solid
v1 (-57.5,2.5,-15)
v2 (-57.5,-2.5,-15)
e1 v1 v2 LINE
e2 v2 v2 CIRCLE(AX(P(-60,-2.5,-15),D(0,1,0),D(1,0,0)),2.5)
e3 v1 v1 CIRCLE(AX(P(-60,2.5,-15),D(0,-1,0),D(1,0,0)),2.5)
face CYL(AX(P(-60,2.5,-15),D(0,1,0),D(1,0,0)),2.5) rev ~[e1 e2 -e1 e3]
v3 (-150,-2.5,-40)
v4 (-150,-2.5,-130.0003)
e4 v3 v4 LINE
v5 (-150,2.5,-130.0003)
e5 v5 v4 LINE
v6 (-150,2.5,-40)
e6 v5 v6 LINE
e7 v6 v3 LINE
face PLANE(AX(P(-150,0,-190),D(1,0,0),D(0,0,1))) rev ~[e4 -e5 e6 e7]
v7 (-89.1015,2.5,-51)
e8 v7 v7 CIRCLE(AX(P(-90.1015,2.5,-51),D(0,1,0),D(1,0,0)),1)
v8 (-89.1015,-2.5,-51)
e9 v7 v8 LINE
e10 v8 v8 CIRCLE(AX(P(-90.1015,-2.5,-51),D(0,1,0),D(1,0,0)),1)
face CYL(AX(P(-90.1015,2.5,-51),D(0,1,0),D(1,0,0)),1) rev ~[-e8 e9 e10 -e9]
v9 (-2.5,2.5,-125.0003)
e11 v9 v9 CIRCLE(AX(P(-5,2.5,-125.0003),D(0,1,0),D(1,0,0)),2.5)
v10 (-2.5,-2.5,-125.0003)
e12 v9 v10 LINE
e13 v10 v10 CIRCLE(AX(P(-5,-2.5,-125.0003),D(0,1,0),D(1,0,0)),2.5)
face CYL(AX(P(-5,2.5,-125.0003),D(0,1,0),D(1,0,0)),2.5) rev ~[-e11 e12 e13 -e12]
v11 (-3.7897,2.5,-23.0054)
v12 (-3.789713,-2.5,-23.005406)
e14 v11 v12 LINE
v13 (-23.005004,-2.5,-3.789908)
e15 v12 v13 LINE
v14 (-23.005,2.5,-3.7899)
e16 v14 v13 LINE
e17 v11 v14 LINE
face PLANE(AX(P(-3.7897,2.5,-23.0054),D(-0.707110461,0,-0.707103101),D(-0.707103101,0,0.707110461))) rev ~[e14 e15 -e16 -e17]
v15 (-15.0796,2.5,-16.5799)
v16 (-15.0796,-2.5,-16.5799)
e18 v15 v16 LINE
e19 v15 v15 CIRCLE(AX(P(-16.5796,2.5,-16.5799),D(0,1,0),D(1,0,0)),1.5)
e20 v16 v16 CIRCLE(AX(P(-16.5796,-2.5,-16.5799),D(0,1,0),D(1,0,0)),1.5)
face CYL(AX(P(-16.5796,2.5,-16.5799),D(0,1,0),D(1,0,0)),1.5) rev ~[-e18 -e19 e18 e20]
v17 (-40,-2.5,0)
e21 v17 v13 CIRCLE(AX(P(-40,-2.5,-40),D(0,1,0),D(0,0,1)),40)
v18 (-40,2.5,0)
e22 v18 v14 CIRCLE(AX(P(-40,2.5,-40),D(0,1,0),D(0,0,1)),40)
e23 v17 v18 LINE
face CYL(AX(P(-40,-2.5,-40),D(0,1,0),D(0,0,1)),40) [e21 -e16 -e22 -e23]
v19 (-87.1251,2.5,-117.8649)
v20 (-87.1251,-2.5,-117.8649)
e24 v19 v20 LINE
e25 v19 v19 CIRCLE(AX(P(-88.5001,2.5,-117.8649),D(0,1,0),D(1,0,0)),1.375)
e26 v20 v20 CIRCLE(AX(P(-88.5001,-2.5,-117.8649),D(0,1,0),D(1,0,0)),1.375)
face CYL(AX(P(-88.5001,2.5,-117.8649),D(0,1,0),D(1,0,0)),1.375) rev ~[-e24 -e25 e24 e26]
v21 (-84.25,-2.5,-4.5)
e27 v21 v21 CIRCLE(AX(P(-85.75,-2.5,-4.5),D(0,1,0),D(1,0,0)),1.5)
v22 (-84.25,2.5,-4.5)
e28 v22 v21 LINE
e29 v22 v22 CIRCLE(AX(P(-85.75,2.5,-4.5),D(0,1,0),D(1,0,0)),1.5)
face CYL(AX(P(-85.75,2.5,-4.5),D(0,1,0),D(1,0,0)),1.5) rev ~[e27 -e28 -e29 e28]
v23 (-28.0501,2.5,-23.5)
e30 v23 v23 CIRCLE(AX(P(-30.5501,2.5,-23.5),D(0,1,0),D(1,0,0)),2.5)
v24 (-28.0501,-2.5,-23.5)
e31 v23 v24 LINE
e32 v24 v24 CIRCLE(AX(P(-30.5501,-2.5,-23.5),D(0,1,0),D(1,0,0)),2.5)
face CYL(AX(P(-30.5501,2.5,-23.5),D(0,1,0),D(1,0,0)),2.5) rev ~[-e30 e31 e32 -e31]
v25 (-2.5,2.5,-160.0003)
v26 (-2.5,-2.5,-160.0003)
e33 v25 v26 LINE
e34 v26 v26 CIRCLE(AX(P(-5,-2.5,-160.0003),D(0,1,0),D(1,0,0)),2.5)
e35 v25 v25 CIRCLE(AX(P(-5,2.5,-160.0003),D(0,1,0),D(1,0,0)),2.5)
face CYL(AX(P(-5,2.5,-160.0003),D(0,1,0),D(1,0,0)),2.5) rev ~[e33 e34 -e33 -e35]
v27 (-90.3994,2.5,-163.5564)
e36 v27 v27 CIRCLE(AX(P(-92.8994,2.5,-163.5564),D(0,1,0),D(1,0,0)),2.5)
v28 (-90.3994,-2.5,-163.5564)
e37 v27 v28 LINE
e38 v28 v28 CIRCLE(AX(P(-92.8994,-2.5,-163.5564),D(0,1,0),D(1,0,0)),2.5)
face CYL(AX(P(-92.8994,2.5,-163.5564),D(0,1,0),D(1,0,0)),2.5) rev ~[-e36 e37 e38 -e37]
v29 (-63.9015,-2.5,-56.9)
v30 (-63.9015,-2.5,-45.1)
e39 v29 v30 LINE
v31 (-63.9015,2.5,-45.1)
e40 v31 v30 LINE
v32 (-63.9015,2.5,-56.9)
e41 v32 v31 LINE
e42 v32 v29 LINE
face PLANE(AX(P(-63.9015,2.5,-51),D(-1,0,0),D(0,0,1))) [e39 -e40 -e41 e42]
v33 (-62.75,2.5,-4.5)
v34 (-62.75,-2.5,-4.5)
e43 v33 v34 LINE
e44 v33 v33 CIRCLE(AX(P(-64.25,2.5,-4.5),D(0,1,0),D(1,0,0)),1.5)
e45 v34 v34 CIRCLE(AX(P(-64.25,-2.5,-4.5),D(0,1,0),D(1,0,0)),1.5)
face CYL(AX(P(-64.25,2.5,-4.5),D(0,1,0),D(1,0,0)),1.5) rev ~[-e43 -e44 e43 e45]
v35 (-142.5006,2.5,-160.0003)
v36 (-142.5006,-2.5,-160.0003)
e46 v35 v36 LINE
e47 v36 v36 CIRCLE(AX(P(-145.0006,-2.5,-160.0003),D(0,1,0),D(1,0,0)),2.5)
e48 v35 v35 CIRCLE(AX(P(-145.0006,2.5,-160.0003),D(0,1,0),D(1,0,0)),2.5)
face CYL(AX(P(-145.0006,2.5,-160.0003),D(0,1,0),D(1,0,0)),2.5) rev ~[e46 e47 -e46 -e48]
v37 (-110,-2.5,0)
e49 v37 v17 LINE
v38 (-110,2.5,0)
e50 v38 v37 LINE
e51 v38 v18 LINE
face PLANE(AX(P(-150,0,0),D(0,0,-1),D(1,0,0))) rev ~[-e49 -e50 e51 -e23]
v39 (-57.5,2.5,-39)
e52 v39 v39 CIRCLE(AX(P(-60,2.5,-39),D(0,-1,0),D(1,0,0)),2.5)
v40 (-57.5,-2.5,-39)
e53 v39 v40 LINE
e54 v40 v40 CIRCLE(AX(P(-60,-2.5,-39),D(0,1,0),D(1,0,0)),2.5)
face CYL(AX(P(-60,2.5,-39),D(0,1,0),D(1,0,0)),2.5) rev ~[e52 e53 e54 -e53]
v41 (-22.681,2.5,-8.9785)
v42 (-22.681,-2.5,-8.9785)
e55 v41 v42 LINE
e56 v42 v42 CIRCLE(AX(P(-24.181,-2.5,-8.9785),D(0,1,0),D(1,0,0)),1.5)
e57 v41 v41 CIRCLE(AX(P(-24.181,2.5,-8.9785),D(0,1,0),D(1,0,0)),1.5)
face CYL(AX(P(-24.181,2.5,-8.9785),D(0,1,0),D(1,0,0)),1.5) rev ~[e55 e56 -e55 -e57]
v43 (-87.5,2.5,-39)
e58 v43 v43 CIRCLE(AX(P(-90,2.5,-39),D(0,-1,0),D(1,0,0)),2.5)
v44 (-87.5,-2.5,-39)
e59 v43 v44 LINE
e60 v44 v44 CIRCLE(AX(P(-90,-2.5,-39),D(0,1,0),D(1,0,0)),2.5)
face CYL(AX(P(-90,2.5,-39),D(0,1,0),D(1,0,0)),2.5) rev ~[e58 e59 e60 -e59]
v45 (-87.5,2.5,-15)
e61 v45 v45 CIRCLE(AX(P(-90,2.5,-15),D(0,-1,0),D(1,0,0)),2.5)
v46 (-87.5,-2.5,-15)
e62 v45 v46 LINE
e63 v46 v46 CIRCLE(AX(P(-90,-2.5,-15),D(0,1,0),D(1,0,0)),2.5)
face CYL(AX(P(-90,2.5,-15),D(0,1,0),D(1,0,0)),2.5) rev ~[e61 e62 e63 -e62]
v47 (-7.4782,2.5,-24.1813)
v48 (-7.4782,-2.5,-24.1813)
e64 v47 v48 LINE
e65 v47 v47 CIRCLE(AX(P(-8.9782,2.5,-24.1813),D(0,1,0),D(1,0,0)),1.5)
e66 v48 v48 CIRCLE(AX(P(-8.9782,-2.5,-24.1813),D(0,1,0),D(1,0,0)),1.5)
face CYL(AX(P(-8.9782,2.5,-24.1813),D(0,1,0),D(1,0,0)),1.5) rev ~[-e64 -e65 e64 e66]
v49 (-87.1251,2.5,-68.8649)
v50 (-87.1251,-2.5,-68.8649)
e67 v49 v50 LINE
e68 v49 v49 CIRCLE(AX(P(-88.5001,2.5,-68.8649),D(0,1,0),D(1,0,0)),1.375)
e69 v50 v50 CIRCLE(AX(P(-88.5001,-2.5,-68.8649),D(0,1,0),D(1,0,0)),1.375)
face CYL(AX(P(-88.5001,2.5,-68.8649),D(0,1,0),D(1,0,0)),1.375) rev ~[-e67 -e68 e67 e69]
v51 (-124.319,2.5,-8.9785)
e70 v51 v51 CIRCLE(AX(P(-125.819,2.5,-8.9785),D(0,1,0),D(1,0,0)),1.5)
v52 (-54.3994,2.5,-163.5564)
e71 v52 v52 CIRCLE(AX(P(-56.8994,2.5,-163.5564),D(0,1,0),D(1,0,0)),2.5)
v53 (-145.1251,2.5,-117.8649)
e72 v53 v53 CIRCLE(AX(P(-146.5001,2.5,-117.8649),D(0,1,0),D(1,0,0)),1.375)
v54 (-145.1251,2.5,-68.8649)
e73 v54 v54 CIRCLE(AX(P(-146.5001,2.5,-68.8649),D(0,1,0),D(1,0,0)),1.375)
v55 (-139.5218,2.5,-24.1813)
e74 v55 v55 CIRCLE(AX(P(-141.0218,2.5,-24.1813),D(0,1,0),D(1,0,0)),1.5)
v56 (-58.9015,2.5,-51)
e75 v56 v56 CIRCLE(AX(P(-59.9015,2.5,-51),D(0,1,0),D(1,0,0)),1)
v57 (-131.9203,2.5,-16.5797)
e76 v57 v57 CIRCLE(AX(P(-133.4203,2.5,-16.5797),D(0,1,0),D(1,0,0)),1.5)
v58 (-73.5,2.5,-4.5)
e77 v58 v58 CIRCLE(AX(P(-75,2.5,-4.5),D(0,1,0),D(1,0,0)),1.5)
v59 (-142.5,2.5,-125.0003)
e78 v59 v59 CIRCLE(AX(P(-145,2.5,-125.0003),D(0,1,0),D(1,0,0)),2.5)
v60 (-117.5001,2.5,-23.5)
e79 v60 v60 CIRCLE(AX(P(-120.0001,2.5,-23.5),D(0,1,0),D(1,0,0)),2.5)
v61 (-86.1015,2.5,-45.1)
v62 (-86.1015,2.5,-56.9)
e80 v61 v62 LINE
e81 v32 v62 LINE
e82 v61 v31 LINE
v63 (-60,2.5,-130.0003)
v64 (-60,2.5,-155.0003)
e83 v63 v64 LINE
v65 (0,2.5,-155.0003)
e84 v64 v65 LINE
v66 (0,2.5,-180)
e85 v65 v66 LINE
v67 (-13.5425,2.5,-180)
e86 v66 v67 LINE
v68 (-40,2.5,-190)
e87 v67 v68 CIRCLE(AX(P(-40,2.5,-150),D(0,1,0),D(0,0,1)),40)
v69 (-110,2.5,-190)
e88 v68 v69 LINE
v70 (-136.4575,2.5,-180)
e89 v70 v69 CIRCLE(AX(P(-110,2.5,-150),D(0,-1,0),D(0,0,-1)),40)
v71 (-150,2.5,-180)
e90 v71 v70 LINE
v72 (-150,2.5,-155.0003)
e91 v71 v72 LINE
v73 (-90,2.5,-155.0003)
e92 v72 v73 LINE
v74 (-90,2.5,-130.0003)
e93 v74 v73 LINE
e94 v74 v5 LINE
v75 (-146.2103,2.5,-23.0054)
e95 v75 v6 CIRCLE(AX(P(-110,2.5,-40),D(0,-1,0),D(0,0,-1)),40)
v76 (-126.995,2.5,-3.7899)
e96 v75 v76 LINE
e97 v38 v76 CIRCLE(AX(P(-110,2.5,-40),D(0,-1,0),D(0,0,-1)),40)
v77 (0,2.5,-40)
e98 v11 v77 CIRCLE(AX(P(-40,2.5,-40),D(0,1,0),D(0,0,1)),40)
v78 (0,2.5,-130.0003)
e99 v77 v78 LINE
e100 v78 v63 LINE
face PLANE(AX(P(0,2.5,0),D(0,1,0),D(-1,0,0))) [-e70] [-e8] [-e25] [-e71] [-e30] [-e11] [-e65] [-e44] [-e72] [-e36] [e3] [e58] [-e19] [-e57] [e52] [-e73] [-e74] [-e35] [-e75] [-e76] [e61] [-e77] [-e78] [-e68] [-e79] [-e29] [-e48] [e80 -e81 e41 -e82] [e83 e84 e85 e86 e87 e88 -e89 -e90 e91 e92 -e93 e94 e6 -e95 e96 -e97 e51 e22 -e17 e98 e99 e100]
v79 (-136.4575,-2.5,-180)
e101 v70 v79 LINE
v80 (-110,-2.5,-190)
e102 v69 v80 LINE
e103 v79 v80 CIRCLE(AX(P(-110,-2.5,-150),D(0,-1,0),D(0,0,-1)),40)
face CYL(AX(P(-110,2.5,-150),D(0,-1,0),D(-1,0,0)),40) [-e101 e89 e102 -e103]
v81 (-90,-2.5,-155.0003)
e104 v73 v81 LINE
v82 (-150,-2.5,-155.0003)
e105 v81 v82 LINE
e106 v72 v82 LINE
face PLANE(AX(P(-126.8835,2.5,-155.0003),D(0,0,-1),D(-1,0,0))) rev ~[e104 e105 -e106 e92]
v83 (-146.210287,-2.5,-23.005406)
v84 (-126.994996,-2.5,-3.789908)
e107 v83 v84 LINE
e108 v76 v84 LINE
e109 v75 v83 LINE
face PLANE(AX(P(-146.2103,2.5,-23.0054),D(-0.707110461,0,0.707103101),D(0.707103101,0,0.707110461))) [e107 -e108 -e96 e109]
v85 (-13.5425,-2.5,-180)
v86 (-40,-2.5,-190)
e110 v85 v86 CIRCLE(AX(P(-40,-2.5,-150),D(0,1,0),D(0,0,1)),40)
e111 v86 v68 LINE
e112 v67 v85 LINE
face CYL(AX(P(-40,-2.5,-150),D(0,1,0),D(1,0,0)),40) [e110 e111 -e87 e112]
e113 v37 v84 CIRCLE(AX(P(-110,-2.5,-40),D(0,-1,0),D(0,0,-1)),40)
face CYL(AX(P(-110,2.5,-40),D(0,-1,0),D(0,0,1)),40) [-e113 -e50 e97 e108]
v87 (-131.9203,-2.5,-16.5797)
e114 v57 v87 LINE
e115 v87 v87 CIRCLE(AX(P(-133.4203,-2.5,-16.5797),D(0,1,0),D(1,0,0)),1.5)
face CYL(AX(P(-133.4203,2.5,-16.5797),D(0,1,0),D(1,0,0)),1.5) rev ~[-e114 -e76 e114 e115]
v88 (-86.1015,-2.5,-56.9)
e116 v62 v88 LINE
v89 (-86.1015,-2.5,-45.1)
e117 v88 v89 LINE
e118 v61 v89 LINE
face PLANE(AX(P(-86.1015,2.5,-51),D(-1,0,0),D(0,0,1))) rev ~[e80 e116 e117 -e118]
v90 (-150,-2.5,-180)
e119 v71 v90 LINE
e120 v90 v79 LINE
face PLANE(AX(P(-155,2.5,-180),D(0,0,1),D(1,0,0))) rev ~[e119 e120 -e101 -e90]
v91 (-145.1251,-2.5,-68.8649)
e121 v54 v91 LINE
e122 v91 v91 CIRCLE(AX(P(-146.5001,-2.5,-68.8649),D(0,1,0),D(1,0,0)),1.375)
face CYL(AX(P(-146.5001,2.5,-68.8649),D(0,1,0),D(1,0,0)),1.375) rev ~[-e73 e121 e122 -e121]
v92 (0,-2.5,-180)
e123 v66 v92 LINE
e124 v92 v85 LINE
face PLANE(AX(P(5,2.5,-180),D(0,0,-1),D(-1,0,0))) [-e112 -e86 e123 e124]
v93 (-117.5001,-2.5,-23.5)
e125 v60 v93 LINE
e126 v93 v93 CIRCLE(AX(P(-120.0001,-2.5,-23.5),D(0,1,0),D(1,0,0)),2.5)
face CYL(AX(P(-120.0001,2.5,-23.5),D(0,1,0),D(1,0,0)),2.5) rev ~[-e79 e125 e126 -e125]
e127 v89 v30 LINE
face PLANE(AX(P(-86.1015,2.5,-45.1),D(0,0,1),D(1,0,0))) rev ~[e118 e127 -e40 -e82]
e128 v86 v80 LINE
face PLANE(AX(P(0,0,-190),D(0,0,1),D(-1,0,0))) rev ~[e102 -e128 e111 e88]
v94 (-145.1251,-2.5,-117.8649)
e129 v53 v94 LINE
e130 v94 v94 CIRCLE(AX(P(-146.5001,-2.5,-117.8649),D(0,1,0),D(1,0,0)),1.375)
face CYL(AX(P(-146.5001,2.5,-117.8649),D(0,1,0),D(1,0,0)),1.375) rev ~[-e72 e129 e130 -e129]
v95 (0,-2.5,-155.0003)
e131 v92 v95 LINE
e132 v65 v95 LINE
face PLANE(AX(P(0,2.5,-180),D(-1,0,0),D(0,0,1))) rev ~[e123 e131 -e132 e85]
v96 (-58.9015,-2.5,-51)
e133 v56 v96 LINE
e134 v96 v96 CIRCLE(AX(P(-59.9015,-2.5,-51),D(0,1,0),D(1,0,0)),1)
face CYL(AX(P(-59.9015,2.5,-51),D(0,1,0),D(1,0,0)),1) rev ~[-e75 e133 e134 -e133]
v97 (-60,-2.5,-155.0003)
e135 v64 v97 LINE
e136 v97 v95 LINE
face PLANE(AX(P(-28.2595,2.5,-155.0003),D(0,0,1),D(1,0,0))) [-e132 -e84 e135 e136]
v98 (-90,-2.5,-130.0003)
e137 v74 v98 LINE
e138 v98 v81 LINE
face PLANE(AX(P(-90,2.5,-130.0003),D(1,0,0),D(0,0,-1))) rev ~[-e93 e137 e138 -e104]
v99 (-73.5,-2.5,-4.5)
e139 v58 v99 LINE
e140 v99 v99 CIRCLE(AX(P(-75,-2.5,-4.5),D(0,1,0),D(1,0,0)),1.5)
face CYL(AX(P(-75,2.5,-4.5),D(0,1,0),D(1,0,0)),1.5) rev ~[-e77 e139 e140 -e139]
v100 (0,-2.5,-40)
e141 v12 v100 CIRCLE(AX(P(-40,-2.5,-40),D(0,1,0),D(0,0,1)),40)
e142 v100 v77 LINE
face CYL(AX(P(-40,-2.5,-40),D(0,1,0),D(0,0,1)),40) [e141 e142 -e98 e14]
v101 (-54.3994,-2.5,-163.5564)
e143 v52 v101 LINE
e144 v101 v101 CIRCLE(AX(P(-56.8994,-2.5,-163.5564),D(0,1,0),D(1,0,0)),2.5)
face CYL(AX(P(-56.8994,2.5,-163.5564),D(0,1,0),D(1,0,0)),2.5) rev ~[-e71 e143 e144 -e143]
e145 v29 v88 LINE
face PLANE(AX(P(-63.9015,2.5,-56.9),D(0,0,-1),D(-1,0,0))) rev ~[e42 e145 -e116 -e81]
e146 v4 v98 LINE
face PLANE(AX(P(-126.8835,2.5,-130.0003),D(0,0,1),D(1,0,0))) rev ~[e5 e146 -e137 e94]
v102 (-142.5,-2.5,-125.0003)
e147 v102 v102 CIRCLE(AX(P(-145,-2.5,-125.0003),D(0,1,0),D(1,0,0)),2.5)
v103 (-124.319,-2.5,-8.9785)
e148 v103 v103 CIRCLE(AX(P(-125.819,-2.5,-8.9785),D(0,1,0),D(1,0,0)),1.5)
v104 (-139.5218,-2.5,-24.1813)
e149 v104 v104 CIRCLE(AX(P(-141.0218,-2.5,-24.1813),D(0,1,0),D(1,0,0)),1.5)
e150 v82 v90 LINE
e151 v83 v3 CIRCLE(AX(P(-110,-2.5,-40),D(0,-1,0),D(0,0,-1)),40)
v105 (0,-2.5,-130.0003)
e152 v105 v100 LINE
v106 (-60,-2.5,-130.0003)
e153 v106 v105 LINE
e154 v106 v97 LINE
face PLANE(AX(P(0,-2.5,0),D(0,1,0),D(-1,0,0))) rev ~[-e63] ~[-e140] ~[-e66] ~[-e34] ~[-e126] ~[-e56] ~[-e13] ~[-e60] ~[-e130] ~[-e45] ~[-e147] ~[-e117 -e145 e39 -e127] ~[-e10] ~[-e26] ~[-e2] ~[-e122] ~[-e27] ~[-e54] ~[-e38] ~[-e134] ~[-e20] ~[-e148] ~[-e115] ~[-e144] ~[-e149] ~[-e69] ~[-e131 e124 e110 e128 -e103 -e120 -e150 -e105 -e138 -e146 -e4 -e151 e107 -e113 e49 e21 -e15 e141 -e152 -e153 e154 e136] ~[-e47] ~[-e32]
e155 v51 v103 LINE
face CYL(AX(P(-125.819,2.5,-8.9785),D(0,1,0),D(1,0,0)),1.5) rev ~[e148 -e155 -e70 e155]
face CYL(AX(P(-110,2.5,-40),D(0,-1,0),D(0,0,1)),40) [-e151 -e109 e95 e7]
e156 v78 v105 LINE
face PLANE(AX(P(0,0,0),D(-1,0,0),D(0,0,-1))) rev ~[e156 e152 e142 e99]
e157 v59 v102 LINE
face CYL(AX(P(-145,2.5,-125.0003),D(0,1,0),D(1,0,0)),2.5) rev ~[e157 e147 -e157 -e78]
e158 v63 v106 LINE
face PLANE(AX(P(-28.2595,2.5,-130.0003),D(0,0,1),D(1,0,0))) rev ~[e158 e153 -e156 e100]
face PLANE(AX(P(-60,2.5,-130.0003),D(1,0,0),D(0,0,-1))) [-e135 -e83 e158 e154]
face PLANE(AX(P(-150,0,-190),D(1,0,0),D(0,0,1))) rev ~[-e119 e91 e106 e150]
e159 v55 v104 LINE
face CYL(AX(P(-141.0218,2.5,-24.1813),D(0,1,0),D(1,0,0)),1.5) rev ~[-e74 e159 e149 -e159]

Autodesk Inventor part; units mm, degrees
ref_plane "YZ Plane" through (0, 0, 0) normal (1, 0, 0) x (0, 1, 0)
ref_plane "XZ Plane" through (0, 0, 0) normal (0, 1, 0) x (-1, 0, 0)
ref_plane "XY Plane" through (0, 0, 0) normal (0, 0, 1) x (1, 0, 0)
sketch "Esboço1" plane through (0, 0, 0) normal (0, 1, 0) x (-1, 0, 0)
  line L0 (0, 0) -> (0, -190)
  line L1 (0, -190) -> (150, -190)
  line L2 (150, -190) -> (150, 0)
  line L3 (150, 0) -> (0, 0)
  dimension "d0" = 190
  dimension "d1" = 150
extrude "Extrusão1" add sketch "Esboço1" along normal mid plane 5
fillet "Arredondamento1" radius 40 1 edges at (0, 0, 0)
fillet "Arredondamento2" radius 40 3 edges at (-150, 0, 0) (0, 0, -190) (-150, 0, -190)
sketch "Esboço2" plane through (0, 2.5, 0) normal (0, 1, 0) x (1, 0, 0)
  line L0 (-110, 0) -> (-40, 0) projected
  line L1 (-150, 150) -> (-150, 40) projected
  line L2 (0, 40) -> (0, 150) projected
  line L3 (0, 110) -> (5, 110)
  line L4 (-150, 110) -> (-155, 110)
  line L5 (-155, 110) -> (-155, 175)
  line L6 (-155, 175) -> (-150, 175)
  line L7 (0, 175) -> (5, 175)
  line L8 (5, 175) -> (5, 110)
  line L9 (-155, 175) -> (-155, 180)
  line L10 (-155, 180) -> (-115.1221, 180)
  line L11 (-155, 110) -> (-155, 105)
  line L12 (-155, 105) -> (-150, 105)
  line L13 (5, 110) -> (5, 105)
  line L14 (5, 105) -> (0, 105)
  line L15 (-115.1221, 180) -> (-136.4575, 180)
  arc A0 (-110, 190) -> (-150, 150) centre (-110, 150) ccw projected
  line L16 (5, 175) -> (5, 180)
  line L17 (5, 180) -> (11.9999, 180)
  line L18 (-150, 175) -> (-141.225, 175)
  line L19 (0, 175) -> (-8.775, 175)
  arc A1 (0, 150) -> (-40, 190) centre (-40, 150) ccw projected
  line L20 (11.9999, 180) -> (-13.5425, 180)
  line L21 (0, 150) -> (0, 175)
  arc A2 (-110, 190) -> (-150, 150) centre (-110, 150) ccw projected
  line L22 (-150, 150) -> (-150, 175)
  point P0 (0, 0)
  point P1 (-136.4575, 180)
  dimension "d162" = 5
  dimension "d163" = 5
  dimension "d165" = 5
  dimension "d166" = 5
sketch "Esboço5" plane through (0, 2.5, 0) normal (0, 1, 0) x (1, 0, 0)
  circle A0 centre (-120.0001, 23.5) radius 2.5
  circle A1 centre (-30.5501, 23.5) radius 2.5
  circle A2 centre (-92.8994, 163.5564) radius 2.5
  circle A3 centre (-56.8994, 163.5564) radius 2.5
  point P0 (0, 0)
  dimension "d69" = 5
  dimension "d70" = 5
  dimension "d116" = 5
  dimension "d117" = 5
extrude "Extrusão17" cut sketch "Esboço5" against normal through all
extrude "Extrusão20" add sketch "Esboço2" against normal blind 5 contours L22 L18 A0 | L1 L12 L11 L4 | L18 L6 L9 L10 A0 | L2 L3 L13 L14 | A1 L19 L21 | A1 L20 L16 L7 L19
sketch "Esboço7" plane through (0, 2.5, 0) normal (0, 1, 0) x (1, 0, 0)
  line L0 (-150, 110) -> (-150, 175) projected
  line L1 (-126.8835, 155.0003) -> (-150, 155.0003)
  line L2 (-28.2595, 155.0003) -> (0, 155.0003)
  line L3 (-126.8835, 130.0003) -> (-150, 130.0003)
  line L4 (-126.8835, 130.0003) -> (-90, 130.0003)
  line L5 (-90, 130.0003) -> (-90, 155.0003)
  line L6 (-90, 155.0003) -> (-126.8835, 155.0003)
  line L7 (-28.2595, 130.0003) -> (0, 130.0003)
  line L8 (0, 175) -> (0, 110) projected
  line L9 (-28.2595, 130.0003) -> (-60, 130.0003)
  line L10 (-60, 130.0003) -> (-60, 155.0003)
  line L11 (-60, 155.0003) -> (-28.2595, 155.0003)
  line L12 (0, 155.0003) -> (0, 130.0003)
  line L13 (-150, 155.0003) -> (-150, 130.0003)
  point P0 (0, 0)
  point P1 (0, 142.5003)
  point P2 (-150, 142.5)
  point P3 (-90, 142.5003)
  dimension "d170" = 25
  dimension "d216" = 60
  dimension "d252" = 60
sketch "Esboço8" plane through (0, 2.5, 0) normal (0, 1, 0) x (1, 0, 0)
  line L0 (0, 175) -> (0, 110) projected
  circle A0 centre (-5, 125.0003) radius 2.5
  line L1 (-150, 155.0003) -> (-84.9995, 155.0003) projected
  circle A1 centre (-145.0006, 160.0003) radius 2.5
  circle A2 centre (-145, 125.0003) radius 2.5
  circle A3 centre (-5, 160.0003) radius 2.5
  point P0 (0, 0)
  point P1 (0, 130.0003)
  dimension "d180" = 5
  dimension "d186" = 5
  dimension "d187" = 5
  dimension "d264" = 5
extrude "Extrusão30" cut sketch "Esboço7" against normal through all
extrude "Extrusão32" cut sketch "Esboço8" against normal through all
sketch "Esboço10" plane through (0, 2.5, 0) normal (0, 1, 0) x (1, 0, 0)
  line L0 (5, 180) -> (-13.5425, 180) projected
  line L1 (0, 180) -> (0, 104.8979)
  line L2 (0, 104.8979) -> (5, 104.8979)
  line L3 (5, 104.8979) -> (5, 180)
  line L4 (5, 180) -> (0, 180)
  line L5 (-150, 175) -> (-150, 155.0003) projected
  line L6 (-150, 175) -> (-150, 180)
  line L7 (-136.4575, 180) -> (-155, 180) projected
  line L8 (-150, 180) -> (-155, 180)
  line L9 (-155, 180) -> (-155, 104.8979)
  line L10 (-155, 104.8979) -> (-150, 104.8979)
  line L11 (-150, 175) -> (-150, 104.8979)
  point P0 (0, 0)
extrude "Extrusão33" cut sketch "Esboço10" against normal through all
sketch "Esboço6" plane through (0, 2.5, 0) normal (0, 1, 0) x (1, 0, 0)
  line L0 (-40, 0) -> (-110, 0) projected
  line L1 (-75, 0) -> (-57.5, 0)
  line L2 (-92.5, 45) -> (-92.5, 0)
  line L3 (-75, 0) -> (-92.5, 0)
  line L4 (-92.5, 45) -> (-57.5, 45)
  circle A0 centre (-69.65, 48.6) radius 2.5
  line L5 (-75, 45) -> (-86, 45)
  line L6 (-86, 45) -> (-86, 57)
  line L7 (-86, 57) -> (-64, 57)
  line L8 (-64, 57) -> (-64, 45)
  line L9 (-60, 39) -> (-90, 39)
  line L10 (-60, 15) -> (-90, 15)
  circle A1 centre (-90, 39) radius 2.5
  circle A2 centre (-60, 39) radius 2.5
  circle A3 centre (-60, 15) radius 2.5
  circle A4 centre (-90, 15) radius 2.5
  point P0 (0, 0)
  dimension "d137" = 45
  dimension "d138" = 35
  dimension "d159" = 5
  dimension "d206" = 11
  dimension "d207" = 12
  dimension "d208" = 22
  dimension "d349" = 5
  dimension "d350" = 5
  dimension "d351" = 5
  dimension "d352" = 5
sketch "Esboço11" plane through (0, 2.5, 0) normal (0, 1, 0) x (1, 0, 0)
  line L0 (-150, 130.0003) -> (-150, 40) projected
  circle A0 centre (-146.5001, 117.8649) radius 1.375
  circle A1 centre (-88.5001, 117.8649) radius 1.375
  circle A2 centre (-88.5001, 68.8649) radius 1.375
  circle A3 centre (-146.5001, 68.8649) radius 1.375
  point P0 (0, 0)
  dimension "d292" = 2.75
  dimension "d293" = 2.75
  dimension "d294" = 2.75
  dimension "d295" = 2.75
extrude "Extrusão35" cut sketch "Esboço11" against normal through all
extrude "Extrusão39" cut sketch "Esboço6" against normal through all contours A2 | A1 | A3 | A4
sketch "Esboço13" plane through (0, 2.5, 0) normal (0, 1, 0) x (1, 0, 0)
  circle A0 centre (-142.1978, 23.0054) radius 1.5 projected
  arc A1 (-150, 40) -> (-110, 0) centre (-110, 40) ccw projected
  circle A2 centre (-126.995, 7.8026) radius 1.5 projected
  line L0 (-146.2103, 23.0054) -> (-126.995, 3.7899)
  line L1 (-146.2103, 23.0054) -> (-146.2103, 3.7899)
  line L2 (-146.2103, 3.7899) -> (-126.995, 3.7899)
  circle A3 centre (-7.8022, 23.0054) radius 1.5 projected
  arc A4 (-40, 0) -> (0, 40) centre (-40, 40) ccw projected
  circle A5 centre (-23.005, 7.8026) radius 1.5 projected
  line L3 (-3.7897, 23.0054) -> (-23.005, 3.7899)
  line L4 (-3.7897, 23.0054) -> (-3.7897, 3.7899)
  line L5 (-3.7897, 3.7899) -> (-23.005, 3.7899)
  point P0 (0, 0)
extrude "Extrusão41" cut sketch "Esboço13" against normal through all contours L0 A1 | A1 L2 L1 | L3 A4 | A4 L4 L5
sketch "Esboço12" plane through (0, 2.5, 0) normal (0, 1, 0) x (1, 0, 0)
  line L0 (-40, 0) -> (-110, 0) projected
  line L1 (-53.5, 10) -> (-53.5, 17)
  line L2 (-53.5, 17) -> (-96.5, 17)
  line L3 (-96.5, 17) -> (-96.5, 10)
  arc A0 (-40, 0) -> (0, 40) centre (-40, 40) ccw projected
  arc A1 (-150, 40) -> (-110, 0) centre (-110, 40) ccw projected
  line L4 (-110, 0) -> (-150, 40)
  line L5 (-150, 40) -> (-145.0503, 44.9497)
  line L6 (-145.0503, 44.9497) -> (-105.0503, 4.9497)
  line L7 (-40, 0) -> (0, 40)
  line L8 (0, 40) -> (-4.9497, 44.9497)
  line L9 (-4.9497, 44.9497) -> (-44.9497, 4.9497)
  line L10 (-44.9497, 4.9497) -> (-40, 0)
  line L11 (-110, 0) -> (-105.0503, 4.9497)
  line L12 (-112.3225, 2.3225) -> (-109.1405, 5.5045)
  circle A2 centre (-85.75, 4.5) radius 1.5
  circle A3 centre (-75, 4.5) radius 1.5
  circle A4 centre (-64.25, 4.5) radius 1.5
  line L13 (-134.4196, 30.7835) -> (-137.6016, 27.6016)
  line L14 (-126.8182, 23.1821) -> (-130, 20)
  line L15 (-119.2168, 15.5807) -> (-122.3988, 12.3988)
  line L16 (-30.7832, 15.5807) -> (-27.6012, 12.3988)
  line L17 (-23.1818, 23.1821) -> (-19.9998, 20.0002)
  line L18 (-15.5804, 30.7835) -> (-12.3984, 27.6016)
  line L19 (-146.2103, 23.0054) -> (-126.995, 3.7899) projected
  circle A5 centre (-125.819, 8.9785) radius 1.5
  circle A6 centre (-133.4203, 16.5797) radius 1.5
  circle A7 centre (-141.0218, 24.1813) radius 1.5
  line L20 (-3.7897, 23.0054) -> (-23.005, 3.7899) projected
  circle A8 centre (-24.181, 8.9785) radius 1.5
  circle A9 centre (-16.5796, 16.5799) radius 1.5
  circle A10 centre (-8.9782, 24.1813) radius 1.5
  point P0 (0, 0)
  dimension "d301" = 7
  dimension "d310" = 7
  dimension "d311" = 7
  dimension "d325" = 4.5
  dimension "d356" = 3
  dimension "d357" = 3
  dimension "d358" = 3
  dimension "d374" = 3
  dimension "d375" = 3
  dimension "d376" = 3
  dimension "d379" = 3
  dimension "d380" = 3
  dimension "d381" = 3
extrude "Extrusão42" cut sketch "Esboço12" against normal through all contours A2 | A3 | A4 | A5 | A6 | A7 | A8 | A9 | A10
sketch "Esboço14" plane through (0, 2.5, 0) normal (0, 1, 0) x (1, 0, 0)
  line L0 (-63.9015, 51) -> (-63.9015, 45.1)
  line L1 (-63.9015, 51) -> (-63.9015, 56.9)
  line L2 (-63.9015, 56.9) -> (-86.1015, 56.9)
  line L3 (-86.1015, 56.9) -> (-86.1015, 51)
  line L4 (-86.1015, 51) -> (-86.1015, 45.1)
  line L5 (-86.1015, 45.1) -> (-63.9015, 45.1)
  circle A0 centre (-59.9015, 51) radius 1
  circle A1 centre (-90.1015, 51) radius 1
  point P0 (0, 0)
  point P1 (-60.9815, 51)
  dimension "d384" = 2.92
  dimension "d385" = 22.2
  dimension "d386" = 5.9
  dimension "d387" = 5.9
  dimension "d392" = 2
  dimension "d393" = 2
extrude "Extrusão43" cut sketch "Esboço14" against normal through all
properties part number "BaseP"
